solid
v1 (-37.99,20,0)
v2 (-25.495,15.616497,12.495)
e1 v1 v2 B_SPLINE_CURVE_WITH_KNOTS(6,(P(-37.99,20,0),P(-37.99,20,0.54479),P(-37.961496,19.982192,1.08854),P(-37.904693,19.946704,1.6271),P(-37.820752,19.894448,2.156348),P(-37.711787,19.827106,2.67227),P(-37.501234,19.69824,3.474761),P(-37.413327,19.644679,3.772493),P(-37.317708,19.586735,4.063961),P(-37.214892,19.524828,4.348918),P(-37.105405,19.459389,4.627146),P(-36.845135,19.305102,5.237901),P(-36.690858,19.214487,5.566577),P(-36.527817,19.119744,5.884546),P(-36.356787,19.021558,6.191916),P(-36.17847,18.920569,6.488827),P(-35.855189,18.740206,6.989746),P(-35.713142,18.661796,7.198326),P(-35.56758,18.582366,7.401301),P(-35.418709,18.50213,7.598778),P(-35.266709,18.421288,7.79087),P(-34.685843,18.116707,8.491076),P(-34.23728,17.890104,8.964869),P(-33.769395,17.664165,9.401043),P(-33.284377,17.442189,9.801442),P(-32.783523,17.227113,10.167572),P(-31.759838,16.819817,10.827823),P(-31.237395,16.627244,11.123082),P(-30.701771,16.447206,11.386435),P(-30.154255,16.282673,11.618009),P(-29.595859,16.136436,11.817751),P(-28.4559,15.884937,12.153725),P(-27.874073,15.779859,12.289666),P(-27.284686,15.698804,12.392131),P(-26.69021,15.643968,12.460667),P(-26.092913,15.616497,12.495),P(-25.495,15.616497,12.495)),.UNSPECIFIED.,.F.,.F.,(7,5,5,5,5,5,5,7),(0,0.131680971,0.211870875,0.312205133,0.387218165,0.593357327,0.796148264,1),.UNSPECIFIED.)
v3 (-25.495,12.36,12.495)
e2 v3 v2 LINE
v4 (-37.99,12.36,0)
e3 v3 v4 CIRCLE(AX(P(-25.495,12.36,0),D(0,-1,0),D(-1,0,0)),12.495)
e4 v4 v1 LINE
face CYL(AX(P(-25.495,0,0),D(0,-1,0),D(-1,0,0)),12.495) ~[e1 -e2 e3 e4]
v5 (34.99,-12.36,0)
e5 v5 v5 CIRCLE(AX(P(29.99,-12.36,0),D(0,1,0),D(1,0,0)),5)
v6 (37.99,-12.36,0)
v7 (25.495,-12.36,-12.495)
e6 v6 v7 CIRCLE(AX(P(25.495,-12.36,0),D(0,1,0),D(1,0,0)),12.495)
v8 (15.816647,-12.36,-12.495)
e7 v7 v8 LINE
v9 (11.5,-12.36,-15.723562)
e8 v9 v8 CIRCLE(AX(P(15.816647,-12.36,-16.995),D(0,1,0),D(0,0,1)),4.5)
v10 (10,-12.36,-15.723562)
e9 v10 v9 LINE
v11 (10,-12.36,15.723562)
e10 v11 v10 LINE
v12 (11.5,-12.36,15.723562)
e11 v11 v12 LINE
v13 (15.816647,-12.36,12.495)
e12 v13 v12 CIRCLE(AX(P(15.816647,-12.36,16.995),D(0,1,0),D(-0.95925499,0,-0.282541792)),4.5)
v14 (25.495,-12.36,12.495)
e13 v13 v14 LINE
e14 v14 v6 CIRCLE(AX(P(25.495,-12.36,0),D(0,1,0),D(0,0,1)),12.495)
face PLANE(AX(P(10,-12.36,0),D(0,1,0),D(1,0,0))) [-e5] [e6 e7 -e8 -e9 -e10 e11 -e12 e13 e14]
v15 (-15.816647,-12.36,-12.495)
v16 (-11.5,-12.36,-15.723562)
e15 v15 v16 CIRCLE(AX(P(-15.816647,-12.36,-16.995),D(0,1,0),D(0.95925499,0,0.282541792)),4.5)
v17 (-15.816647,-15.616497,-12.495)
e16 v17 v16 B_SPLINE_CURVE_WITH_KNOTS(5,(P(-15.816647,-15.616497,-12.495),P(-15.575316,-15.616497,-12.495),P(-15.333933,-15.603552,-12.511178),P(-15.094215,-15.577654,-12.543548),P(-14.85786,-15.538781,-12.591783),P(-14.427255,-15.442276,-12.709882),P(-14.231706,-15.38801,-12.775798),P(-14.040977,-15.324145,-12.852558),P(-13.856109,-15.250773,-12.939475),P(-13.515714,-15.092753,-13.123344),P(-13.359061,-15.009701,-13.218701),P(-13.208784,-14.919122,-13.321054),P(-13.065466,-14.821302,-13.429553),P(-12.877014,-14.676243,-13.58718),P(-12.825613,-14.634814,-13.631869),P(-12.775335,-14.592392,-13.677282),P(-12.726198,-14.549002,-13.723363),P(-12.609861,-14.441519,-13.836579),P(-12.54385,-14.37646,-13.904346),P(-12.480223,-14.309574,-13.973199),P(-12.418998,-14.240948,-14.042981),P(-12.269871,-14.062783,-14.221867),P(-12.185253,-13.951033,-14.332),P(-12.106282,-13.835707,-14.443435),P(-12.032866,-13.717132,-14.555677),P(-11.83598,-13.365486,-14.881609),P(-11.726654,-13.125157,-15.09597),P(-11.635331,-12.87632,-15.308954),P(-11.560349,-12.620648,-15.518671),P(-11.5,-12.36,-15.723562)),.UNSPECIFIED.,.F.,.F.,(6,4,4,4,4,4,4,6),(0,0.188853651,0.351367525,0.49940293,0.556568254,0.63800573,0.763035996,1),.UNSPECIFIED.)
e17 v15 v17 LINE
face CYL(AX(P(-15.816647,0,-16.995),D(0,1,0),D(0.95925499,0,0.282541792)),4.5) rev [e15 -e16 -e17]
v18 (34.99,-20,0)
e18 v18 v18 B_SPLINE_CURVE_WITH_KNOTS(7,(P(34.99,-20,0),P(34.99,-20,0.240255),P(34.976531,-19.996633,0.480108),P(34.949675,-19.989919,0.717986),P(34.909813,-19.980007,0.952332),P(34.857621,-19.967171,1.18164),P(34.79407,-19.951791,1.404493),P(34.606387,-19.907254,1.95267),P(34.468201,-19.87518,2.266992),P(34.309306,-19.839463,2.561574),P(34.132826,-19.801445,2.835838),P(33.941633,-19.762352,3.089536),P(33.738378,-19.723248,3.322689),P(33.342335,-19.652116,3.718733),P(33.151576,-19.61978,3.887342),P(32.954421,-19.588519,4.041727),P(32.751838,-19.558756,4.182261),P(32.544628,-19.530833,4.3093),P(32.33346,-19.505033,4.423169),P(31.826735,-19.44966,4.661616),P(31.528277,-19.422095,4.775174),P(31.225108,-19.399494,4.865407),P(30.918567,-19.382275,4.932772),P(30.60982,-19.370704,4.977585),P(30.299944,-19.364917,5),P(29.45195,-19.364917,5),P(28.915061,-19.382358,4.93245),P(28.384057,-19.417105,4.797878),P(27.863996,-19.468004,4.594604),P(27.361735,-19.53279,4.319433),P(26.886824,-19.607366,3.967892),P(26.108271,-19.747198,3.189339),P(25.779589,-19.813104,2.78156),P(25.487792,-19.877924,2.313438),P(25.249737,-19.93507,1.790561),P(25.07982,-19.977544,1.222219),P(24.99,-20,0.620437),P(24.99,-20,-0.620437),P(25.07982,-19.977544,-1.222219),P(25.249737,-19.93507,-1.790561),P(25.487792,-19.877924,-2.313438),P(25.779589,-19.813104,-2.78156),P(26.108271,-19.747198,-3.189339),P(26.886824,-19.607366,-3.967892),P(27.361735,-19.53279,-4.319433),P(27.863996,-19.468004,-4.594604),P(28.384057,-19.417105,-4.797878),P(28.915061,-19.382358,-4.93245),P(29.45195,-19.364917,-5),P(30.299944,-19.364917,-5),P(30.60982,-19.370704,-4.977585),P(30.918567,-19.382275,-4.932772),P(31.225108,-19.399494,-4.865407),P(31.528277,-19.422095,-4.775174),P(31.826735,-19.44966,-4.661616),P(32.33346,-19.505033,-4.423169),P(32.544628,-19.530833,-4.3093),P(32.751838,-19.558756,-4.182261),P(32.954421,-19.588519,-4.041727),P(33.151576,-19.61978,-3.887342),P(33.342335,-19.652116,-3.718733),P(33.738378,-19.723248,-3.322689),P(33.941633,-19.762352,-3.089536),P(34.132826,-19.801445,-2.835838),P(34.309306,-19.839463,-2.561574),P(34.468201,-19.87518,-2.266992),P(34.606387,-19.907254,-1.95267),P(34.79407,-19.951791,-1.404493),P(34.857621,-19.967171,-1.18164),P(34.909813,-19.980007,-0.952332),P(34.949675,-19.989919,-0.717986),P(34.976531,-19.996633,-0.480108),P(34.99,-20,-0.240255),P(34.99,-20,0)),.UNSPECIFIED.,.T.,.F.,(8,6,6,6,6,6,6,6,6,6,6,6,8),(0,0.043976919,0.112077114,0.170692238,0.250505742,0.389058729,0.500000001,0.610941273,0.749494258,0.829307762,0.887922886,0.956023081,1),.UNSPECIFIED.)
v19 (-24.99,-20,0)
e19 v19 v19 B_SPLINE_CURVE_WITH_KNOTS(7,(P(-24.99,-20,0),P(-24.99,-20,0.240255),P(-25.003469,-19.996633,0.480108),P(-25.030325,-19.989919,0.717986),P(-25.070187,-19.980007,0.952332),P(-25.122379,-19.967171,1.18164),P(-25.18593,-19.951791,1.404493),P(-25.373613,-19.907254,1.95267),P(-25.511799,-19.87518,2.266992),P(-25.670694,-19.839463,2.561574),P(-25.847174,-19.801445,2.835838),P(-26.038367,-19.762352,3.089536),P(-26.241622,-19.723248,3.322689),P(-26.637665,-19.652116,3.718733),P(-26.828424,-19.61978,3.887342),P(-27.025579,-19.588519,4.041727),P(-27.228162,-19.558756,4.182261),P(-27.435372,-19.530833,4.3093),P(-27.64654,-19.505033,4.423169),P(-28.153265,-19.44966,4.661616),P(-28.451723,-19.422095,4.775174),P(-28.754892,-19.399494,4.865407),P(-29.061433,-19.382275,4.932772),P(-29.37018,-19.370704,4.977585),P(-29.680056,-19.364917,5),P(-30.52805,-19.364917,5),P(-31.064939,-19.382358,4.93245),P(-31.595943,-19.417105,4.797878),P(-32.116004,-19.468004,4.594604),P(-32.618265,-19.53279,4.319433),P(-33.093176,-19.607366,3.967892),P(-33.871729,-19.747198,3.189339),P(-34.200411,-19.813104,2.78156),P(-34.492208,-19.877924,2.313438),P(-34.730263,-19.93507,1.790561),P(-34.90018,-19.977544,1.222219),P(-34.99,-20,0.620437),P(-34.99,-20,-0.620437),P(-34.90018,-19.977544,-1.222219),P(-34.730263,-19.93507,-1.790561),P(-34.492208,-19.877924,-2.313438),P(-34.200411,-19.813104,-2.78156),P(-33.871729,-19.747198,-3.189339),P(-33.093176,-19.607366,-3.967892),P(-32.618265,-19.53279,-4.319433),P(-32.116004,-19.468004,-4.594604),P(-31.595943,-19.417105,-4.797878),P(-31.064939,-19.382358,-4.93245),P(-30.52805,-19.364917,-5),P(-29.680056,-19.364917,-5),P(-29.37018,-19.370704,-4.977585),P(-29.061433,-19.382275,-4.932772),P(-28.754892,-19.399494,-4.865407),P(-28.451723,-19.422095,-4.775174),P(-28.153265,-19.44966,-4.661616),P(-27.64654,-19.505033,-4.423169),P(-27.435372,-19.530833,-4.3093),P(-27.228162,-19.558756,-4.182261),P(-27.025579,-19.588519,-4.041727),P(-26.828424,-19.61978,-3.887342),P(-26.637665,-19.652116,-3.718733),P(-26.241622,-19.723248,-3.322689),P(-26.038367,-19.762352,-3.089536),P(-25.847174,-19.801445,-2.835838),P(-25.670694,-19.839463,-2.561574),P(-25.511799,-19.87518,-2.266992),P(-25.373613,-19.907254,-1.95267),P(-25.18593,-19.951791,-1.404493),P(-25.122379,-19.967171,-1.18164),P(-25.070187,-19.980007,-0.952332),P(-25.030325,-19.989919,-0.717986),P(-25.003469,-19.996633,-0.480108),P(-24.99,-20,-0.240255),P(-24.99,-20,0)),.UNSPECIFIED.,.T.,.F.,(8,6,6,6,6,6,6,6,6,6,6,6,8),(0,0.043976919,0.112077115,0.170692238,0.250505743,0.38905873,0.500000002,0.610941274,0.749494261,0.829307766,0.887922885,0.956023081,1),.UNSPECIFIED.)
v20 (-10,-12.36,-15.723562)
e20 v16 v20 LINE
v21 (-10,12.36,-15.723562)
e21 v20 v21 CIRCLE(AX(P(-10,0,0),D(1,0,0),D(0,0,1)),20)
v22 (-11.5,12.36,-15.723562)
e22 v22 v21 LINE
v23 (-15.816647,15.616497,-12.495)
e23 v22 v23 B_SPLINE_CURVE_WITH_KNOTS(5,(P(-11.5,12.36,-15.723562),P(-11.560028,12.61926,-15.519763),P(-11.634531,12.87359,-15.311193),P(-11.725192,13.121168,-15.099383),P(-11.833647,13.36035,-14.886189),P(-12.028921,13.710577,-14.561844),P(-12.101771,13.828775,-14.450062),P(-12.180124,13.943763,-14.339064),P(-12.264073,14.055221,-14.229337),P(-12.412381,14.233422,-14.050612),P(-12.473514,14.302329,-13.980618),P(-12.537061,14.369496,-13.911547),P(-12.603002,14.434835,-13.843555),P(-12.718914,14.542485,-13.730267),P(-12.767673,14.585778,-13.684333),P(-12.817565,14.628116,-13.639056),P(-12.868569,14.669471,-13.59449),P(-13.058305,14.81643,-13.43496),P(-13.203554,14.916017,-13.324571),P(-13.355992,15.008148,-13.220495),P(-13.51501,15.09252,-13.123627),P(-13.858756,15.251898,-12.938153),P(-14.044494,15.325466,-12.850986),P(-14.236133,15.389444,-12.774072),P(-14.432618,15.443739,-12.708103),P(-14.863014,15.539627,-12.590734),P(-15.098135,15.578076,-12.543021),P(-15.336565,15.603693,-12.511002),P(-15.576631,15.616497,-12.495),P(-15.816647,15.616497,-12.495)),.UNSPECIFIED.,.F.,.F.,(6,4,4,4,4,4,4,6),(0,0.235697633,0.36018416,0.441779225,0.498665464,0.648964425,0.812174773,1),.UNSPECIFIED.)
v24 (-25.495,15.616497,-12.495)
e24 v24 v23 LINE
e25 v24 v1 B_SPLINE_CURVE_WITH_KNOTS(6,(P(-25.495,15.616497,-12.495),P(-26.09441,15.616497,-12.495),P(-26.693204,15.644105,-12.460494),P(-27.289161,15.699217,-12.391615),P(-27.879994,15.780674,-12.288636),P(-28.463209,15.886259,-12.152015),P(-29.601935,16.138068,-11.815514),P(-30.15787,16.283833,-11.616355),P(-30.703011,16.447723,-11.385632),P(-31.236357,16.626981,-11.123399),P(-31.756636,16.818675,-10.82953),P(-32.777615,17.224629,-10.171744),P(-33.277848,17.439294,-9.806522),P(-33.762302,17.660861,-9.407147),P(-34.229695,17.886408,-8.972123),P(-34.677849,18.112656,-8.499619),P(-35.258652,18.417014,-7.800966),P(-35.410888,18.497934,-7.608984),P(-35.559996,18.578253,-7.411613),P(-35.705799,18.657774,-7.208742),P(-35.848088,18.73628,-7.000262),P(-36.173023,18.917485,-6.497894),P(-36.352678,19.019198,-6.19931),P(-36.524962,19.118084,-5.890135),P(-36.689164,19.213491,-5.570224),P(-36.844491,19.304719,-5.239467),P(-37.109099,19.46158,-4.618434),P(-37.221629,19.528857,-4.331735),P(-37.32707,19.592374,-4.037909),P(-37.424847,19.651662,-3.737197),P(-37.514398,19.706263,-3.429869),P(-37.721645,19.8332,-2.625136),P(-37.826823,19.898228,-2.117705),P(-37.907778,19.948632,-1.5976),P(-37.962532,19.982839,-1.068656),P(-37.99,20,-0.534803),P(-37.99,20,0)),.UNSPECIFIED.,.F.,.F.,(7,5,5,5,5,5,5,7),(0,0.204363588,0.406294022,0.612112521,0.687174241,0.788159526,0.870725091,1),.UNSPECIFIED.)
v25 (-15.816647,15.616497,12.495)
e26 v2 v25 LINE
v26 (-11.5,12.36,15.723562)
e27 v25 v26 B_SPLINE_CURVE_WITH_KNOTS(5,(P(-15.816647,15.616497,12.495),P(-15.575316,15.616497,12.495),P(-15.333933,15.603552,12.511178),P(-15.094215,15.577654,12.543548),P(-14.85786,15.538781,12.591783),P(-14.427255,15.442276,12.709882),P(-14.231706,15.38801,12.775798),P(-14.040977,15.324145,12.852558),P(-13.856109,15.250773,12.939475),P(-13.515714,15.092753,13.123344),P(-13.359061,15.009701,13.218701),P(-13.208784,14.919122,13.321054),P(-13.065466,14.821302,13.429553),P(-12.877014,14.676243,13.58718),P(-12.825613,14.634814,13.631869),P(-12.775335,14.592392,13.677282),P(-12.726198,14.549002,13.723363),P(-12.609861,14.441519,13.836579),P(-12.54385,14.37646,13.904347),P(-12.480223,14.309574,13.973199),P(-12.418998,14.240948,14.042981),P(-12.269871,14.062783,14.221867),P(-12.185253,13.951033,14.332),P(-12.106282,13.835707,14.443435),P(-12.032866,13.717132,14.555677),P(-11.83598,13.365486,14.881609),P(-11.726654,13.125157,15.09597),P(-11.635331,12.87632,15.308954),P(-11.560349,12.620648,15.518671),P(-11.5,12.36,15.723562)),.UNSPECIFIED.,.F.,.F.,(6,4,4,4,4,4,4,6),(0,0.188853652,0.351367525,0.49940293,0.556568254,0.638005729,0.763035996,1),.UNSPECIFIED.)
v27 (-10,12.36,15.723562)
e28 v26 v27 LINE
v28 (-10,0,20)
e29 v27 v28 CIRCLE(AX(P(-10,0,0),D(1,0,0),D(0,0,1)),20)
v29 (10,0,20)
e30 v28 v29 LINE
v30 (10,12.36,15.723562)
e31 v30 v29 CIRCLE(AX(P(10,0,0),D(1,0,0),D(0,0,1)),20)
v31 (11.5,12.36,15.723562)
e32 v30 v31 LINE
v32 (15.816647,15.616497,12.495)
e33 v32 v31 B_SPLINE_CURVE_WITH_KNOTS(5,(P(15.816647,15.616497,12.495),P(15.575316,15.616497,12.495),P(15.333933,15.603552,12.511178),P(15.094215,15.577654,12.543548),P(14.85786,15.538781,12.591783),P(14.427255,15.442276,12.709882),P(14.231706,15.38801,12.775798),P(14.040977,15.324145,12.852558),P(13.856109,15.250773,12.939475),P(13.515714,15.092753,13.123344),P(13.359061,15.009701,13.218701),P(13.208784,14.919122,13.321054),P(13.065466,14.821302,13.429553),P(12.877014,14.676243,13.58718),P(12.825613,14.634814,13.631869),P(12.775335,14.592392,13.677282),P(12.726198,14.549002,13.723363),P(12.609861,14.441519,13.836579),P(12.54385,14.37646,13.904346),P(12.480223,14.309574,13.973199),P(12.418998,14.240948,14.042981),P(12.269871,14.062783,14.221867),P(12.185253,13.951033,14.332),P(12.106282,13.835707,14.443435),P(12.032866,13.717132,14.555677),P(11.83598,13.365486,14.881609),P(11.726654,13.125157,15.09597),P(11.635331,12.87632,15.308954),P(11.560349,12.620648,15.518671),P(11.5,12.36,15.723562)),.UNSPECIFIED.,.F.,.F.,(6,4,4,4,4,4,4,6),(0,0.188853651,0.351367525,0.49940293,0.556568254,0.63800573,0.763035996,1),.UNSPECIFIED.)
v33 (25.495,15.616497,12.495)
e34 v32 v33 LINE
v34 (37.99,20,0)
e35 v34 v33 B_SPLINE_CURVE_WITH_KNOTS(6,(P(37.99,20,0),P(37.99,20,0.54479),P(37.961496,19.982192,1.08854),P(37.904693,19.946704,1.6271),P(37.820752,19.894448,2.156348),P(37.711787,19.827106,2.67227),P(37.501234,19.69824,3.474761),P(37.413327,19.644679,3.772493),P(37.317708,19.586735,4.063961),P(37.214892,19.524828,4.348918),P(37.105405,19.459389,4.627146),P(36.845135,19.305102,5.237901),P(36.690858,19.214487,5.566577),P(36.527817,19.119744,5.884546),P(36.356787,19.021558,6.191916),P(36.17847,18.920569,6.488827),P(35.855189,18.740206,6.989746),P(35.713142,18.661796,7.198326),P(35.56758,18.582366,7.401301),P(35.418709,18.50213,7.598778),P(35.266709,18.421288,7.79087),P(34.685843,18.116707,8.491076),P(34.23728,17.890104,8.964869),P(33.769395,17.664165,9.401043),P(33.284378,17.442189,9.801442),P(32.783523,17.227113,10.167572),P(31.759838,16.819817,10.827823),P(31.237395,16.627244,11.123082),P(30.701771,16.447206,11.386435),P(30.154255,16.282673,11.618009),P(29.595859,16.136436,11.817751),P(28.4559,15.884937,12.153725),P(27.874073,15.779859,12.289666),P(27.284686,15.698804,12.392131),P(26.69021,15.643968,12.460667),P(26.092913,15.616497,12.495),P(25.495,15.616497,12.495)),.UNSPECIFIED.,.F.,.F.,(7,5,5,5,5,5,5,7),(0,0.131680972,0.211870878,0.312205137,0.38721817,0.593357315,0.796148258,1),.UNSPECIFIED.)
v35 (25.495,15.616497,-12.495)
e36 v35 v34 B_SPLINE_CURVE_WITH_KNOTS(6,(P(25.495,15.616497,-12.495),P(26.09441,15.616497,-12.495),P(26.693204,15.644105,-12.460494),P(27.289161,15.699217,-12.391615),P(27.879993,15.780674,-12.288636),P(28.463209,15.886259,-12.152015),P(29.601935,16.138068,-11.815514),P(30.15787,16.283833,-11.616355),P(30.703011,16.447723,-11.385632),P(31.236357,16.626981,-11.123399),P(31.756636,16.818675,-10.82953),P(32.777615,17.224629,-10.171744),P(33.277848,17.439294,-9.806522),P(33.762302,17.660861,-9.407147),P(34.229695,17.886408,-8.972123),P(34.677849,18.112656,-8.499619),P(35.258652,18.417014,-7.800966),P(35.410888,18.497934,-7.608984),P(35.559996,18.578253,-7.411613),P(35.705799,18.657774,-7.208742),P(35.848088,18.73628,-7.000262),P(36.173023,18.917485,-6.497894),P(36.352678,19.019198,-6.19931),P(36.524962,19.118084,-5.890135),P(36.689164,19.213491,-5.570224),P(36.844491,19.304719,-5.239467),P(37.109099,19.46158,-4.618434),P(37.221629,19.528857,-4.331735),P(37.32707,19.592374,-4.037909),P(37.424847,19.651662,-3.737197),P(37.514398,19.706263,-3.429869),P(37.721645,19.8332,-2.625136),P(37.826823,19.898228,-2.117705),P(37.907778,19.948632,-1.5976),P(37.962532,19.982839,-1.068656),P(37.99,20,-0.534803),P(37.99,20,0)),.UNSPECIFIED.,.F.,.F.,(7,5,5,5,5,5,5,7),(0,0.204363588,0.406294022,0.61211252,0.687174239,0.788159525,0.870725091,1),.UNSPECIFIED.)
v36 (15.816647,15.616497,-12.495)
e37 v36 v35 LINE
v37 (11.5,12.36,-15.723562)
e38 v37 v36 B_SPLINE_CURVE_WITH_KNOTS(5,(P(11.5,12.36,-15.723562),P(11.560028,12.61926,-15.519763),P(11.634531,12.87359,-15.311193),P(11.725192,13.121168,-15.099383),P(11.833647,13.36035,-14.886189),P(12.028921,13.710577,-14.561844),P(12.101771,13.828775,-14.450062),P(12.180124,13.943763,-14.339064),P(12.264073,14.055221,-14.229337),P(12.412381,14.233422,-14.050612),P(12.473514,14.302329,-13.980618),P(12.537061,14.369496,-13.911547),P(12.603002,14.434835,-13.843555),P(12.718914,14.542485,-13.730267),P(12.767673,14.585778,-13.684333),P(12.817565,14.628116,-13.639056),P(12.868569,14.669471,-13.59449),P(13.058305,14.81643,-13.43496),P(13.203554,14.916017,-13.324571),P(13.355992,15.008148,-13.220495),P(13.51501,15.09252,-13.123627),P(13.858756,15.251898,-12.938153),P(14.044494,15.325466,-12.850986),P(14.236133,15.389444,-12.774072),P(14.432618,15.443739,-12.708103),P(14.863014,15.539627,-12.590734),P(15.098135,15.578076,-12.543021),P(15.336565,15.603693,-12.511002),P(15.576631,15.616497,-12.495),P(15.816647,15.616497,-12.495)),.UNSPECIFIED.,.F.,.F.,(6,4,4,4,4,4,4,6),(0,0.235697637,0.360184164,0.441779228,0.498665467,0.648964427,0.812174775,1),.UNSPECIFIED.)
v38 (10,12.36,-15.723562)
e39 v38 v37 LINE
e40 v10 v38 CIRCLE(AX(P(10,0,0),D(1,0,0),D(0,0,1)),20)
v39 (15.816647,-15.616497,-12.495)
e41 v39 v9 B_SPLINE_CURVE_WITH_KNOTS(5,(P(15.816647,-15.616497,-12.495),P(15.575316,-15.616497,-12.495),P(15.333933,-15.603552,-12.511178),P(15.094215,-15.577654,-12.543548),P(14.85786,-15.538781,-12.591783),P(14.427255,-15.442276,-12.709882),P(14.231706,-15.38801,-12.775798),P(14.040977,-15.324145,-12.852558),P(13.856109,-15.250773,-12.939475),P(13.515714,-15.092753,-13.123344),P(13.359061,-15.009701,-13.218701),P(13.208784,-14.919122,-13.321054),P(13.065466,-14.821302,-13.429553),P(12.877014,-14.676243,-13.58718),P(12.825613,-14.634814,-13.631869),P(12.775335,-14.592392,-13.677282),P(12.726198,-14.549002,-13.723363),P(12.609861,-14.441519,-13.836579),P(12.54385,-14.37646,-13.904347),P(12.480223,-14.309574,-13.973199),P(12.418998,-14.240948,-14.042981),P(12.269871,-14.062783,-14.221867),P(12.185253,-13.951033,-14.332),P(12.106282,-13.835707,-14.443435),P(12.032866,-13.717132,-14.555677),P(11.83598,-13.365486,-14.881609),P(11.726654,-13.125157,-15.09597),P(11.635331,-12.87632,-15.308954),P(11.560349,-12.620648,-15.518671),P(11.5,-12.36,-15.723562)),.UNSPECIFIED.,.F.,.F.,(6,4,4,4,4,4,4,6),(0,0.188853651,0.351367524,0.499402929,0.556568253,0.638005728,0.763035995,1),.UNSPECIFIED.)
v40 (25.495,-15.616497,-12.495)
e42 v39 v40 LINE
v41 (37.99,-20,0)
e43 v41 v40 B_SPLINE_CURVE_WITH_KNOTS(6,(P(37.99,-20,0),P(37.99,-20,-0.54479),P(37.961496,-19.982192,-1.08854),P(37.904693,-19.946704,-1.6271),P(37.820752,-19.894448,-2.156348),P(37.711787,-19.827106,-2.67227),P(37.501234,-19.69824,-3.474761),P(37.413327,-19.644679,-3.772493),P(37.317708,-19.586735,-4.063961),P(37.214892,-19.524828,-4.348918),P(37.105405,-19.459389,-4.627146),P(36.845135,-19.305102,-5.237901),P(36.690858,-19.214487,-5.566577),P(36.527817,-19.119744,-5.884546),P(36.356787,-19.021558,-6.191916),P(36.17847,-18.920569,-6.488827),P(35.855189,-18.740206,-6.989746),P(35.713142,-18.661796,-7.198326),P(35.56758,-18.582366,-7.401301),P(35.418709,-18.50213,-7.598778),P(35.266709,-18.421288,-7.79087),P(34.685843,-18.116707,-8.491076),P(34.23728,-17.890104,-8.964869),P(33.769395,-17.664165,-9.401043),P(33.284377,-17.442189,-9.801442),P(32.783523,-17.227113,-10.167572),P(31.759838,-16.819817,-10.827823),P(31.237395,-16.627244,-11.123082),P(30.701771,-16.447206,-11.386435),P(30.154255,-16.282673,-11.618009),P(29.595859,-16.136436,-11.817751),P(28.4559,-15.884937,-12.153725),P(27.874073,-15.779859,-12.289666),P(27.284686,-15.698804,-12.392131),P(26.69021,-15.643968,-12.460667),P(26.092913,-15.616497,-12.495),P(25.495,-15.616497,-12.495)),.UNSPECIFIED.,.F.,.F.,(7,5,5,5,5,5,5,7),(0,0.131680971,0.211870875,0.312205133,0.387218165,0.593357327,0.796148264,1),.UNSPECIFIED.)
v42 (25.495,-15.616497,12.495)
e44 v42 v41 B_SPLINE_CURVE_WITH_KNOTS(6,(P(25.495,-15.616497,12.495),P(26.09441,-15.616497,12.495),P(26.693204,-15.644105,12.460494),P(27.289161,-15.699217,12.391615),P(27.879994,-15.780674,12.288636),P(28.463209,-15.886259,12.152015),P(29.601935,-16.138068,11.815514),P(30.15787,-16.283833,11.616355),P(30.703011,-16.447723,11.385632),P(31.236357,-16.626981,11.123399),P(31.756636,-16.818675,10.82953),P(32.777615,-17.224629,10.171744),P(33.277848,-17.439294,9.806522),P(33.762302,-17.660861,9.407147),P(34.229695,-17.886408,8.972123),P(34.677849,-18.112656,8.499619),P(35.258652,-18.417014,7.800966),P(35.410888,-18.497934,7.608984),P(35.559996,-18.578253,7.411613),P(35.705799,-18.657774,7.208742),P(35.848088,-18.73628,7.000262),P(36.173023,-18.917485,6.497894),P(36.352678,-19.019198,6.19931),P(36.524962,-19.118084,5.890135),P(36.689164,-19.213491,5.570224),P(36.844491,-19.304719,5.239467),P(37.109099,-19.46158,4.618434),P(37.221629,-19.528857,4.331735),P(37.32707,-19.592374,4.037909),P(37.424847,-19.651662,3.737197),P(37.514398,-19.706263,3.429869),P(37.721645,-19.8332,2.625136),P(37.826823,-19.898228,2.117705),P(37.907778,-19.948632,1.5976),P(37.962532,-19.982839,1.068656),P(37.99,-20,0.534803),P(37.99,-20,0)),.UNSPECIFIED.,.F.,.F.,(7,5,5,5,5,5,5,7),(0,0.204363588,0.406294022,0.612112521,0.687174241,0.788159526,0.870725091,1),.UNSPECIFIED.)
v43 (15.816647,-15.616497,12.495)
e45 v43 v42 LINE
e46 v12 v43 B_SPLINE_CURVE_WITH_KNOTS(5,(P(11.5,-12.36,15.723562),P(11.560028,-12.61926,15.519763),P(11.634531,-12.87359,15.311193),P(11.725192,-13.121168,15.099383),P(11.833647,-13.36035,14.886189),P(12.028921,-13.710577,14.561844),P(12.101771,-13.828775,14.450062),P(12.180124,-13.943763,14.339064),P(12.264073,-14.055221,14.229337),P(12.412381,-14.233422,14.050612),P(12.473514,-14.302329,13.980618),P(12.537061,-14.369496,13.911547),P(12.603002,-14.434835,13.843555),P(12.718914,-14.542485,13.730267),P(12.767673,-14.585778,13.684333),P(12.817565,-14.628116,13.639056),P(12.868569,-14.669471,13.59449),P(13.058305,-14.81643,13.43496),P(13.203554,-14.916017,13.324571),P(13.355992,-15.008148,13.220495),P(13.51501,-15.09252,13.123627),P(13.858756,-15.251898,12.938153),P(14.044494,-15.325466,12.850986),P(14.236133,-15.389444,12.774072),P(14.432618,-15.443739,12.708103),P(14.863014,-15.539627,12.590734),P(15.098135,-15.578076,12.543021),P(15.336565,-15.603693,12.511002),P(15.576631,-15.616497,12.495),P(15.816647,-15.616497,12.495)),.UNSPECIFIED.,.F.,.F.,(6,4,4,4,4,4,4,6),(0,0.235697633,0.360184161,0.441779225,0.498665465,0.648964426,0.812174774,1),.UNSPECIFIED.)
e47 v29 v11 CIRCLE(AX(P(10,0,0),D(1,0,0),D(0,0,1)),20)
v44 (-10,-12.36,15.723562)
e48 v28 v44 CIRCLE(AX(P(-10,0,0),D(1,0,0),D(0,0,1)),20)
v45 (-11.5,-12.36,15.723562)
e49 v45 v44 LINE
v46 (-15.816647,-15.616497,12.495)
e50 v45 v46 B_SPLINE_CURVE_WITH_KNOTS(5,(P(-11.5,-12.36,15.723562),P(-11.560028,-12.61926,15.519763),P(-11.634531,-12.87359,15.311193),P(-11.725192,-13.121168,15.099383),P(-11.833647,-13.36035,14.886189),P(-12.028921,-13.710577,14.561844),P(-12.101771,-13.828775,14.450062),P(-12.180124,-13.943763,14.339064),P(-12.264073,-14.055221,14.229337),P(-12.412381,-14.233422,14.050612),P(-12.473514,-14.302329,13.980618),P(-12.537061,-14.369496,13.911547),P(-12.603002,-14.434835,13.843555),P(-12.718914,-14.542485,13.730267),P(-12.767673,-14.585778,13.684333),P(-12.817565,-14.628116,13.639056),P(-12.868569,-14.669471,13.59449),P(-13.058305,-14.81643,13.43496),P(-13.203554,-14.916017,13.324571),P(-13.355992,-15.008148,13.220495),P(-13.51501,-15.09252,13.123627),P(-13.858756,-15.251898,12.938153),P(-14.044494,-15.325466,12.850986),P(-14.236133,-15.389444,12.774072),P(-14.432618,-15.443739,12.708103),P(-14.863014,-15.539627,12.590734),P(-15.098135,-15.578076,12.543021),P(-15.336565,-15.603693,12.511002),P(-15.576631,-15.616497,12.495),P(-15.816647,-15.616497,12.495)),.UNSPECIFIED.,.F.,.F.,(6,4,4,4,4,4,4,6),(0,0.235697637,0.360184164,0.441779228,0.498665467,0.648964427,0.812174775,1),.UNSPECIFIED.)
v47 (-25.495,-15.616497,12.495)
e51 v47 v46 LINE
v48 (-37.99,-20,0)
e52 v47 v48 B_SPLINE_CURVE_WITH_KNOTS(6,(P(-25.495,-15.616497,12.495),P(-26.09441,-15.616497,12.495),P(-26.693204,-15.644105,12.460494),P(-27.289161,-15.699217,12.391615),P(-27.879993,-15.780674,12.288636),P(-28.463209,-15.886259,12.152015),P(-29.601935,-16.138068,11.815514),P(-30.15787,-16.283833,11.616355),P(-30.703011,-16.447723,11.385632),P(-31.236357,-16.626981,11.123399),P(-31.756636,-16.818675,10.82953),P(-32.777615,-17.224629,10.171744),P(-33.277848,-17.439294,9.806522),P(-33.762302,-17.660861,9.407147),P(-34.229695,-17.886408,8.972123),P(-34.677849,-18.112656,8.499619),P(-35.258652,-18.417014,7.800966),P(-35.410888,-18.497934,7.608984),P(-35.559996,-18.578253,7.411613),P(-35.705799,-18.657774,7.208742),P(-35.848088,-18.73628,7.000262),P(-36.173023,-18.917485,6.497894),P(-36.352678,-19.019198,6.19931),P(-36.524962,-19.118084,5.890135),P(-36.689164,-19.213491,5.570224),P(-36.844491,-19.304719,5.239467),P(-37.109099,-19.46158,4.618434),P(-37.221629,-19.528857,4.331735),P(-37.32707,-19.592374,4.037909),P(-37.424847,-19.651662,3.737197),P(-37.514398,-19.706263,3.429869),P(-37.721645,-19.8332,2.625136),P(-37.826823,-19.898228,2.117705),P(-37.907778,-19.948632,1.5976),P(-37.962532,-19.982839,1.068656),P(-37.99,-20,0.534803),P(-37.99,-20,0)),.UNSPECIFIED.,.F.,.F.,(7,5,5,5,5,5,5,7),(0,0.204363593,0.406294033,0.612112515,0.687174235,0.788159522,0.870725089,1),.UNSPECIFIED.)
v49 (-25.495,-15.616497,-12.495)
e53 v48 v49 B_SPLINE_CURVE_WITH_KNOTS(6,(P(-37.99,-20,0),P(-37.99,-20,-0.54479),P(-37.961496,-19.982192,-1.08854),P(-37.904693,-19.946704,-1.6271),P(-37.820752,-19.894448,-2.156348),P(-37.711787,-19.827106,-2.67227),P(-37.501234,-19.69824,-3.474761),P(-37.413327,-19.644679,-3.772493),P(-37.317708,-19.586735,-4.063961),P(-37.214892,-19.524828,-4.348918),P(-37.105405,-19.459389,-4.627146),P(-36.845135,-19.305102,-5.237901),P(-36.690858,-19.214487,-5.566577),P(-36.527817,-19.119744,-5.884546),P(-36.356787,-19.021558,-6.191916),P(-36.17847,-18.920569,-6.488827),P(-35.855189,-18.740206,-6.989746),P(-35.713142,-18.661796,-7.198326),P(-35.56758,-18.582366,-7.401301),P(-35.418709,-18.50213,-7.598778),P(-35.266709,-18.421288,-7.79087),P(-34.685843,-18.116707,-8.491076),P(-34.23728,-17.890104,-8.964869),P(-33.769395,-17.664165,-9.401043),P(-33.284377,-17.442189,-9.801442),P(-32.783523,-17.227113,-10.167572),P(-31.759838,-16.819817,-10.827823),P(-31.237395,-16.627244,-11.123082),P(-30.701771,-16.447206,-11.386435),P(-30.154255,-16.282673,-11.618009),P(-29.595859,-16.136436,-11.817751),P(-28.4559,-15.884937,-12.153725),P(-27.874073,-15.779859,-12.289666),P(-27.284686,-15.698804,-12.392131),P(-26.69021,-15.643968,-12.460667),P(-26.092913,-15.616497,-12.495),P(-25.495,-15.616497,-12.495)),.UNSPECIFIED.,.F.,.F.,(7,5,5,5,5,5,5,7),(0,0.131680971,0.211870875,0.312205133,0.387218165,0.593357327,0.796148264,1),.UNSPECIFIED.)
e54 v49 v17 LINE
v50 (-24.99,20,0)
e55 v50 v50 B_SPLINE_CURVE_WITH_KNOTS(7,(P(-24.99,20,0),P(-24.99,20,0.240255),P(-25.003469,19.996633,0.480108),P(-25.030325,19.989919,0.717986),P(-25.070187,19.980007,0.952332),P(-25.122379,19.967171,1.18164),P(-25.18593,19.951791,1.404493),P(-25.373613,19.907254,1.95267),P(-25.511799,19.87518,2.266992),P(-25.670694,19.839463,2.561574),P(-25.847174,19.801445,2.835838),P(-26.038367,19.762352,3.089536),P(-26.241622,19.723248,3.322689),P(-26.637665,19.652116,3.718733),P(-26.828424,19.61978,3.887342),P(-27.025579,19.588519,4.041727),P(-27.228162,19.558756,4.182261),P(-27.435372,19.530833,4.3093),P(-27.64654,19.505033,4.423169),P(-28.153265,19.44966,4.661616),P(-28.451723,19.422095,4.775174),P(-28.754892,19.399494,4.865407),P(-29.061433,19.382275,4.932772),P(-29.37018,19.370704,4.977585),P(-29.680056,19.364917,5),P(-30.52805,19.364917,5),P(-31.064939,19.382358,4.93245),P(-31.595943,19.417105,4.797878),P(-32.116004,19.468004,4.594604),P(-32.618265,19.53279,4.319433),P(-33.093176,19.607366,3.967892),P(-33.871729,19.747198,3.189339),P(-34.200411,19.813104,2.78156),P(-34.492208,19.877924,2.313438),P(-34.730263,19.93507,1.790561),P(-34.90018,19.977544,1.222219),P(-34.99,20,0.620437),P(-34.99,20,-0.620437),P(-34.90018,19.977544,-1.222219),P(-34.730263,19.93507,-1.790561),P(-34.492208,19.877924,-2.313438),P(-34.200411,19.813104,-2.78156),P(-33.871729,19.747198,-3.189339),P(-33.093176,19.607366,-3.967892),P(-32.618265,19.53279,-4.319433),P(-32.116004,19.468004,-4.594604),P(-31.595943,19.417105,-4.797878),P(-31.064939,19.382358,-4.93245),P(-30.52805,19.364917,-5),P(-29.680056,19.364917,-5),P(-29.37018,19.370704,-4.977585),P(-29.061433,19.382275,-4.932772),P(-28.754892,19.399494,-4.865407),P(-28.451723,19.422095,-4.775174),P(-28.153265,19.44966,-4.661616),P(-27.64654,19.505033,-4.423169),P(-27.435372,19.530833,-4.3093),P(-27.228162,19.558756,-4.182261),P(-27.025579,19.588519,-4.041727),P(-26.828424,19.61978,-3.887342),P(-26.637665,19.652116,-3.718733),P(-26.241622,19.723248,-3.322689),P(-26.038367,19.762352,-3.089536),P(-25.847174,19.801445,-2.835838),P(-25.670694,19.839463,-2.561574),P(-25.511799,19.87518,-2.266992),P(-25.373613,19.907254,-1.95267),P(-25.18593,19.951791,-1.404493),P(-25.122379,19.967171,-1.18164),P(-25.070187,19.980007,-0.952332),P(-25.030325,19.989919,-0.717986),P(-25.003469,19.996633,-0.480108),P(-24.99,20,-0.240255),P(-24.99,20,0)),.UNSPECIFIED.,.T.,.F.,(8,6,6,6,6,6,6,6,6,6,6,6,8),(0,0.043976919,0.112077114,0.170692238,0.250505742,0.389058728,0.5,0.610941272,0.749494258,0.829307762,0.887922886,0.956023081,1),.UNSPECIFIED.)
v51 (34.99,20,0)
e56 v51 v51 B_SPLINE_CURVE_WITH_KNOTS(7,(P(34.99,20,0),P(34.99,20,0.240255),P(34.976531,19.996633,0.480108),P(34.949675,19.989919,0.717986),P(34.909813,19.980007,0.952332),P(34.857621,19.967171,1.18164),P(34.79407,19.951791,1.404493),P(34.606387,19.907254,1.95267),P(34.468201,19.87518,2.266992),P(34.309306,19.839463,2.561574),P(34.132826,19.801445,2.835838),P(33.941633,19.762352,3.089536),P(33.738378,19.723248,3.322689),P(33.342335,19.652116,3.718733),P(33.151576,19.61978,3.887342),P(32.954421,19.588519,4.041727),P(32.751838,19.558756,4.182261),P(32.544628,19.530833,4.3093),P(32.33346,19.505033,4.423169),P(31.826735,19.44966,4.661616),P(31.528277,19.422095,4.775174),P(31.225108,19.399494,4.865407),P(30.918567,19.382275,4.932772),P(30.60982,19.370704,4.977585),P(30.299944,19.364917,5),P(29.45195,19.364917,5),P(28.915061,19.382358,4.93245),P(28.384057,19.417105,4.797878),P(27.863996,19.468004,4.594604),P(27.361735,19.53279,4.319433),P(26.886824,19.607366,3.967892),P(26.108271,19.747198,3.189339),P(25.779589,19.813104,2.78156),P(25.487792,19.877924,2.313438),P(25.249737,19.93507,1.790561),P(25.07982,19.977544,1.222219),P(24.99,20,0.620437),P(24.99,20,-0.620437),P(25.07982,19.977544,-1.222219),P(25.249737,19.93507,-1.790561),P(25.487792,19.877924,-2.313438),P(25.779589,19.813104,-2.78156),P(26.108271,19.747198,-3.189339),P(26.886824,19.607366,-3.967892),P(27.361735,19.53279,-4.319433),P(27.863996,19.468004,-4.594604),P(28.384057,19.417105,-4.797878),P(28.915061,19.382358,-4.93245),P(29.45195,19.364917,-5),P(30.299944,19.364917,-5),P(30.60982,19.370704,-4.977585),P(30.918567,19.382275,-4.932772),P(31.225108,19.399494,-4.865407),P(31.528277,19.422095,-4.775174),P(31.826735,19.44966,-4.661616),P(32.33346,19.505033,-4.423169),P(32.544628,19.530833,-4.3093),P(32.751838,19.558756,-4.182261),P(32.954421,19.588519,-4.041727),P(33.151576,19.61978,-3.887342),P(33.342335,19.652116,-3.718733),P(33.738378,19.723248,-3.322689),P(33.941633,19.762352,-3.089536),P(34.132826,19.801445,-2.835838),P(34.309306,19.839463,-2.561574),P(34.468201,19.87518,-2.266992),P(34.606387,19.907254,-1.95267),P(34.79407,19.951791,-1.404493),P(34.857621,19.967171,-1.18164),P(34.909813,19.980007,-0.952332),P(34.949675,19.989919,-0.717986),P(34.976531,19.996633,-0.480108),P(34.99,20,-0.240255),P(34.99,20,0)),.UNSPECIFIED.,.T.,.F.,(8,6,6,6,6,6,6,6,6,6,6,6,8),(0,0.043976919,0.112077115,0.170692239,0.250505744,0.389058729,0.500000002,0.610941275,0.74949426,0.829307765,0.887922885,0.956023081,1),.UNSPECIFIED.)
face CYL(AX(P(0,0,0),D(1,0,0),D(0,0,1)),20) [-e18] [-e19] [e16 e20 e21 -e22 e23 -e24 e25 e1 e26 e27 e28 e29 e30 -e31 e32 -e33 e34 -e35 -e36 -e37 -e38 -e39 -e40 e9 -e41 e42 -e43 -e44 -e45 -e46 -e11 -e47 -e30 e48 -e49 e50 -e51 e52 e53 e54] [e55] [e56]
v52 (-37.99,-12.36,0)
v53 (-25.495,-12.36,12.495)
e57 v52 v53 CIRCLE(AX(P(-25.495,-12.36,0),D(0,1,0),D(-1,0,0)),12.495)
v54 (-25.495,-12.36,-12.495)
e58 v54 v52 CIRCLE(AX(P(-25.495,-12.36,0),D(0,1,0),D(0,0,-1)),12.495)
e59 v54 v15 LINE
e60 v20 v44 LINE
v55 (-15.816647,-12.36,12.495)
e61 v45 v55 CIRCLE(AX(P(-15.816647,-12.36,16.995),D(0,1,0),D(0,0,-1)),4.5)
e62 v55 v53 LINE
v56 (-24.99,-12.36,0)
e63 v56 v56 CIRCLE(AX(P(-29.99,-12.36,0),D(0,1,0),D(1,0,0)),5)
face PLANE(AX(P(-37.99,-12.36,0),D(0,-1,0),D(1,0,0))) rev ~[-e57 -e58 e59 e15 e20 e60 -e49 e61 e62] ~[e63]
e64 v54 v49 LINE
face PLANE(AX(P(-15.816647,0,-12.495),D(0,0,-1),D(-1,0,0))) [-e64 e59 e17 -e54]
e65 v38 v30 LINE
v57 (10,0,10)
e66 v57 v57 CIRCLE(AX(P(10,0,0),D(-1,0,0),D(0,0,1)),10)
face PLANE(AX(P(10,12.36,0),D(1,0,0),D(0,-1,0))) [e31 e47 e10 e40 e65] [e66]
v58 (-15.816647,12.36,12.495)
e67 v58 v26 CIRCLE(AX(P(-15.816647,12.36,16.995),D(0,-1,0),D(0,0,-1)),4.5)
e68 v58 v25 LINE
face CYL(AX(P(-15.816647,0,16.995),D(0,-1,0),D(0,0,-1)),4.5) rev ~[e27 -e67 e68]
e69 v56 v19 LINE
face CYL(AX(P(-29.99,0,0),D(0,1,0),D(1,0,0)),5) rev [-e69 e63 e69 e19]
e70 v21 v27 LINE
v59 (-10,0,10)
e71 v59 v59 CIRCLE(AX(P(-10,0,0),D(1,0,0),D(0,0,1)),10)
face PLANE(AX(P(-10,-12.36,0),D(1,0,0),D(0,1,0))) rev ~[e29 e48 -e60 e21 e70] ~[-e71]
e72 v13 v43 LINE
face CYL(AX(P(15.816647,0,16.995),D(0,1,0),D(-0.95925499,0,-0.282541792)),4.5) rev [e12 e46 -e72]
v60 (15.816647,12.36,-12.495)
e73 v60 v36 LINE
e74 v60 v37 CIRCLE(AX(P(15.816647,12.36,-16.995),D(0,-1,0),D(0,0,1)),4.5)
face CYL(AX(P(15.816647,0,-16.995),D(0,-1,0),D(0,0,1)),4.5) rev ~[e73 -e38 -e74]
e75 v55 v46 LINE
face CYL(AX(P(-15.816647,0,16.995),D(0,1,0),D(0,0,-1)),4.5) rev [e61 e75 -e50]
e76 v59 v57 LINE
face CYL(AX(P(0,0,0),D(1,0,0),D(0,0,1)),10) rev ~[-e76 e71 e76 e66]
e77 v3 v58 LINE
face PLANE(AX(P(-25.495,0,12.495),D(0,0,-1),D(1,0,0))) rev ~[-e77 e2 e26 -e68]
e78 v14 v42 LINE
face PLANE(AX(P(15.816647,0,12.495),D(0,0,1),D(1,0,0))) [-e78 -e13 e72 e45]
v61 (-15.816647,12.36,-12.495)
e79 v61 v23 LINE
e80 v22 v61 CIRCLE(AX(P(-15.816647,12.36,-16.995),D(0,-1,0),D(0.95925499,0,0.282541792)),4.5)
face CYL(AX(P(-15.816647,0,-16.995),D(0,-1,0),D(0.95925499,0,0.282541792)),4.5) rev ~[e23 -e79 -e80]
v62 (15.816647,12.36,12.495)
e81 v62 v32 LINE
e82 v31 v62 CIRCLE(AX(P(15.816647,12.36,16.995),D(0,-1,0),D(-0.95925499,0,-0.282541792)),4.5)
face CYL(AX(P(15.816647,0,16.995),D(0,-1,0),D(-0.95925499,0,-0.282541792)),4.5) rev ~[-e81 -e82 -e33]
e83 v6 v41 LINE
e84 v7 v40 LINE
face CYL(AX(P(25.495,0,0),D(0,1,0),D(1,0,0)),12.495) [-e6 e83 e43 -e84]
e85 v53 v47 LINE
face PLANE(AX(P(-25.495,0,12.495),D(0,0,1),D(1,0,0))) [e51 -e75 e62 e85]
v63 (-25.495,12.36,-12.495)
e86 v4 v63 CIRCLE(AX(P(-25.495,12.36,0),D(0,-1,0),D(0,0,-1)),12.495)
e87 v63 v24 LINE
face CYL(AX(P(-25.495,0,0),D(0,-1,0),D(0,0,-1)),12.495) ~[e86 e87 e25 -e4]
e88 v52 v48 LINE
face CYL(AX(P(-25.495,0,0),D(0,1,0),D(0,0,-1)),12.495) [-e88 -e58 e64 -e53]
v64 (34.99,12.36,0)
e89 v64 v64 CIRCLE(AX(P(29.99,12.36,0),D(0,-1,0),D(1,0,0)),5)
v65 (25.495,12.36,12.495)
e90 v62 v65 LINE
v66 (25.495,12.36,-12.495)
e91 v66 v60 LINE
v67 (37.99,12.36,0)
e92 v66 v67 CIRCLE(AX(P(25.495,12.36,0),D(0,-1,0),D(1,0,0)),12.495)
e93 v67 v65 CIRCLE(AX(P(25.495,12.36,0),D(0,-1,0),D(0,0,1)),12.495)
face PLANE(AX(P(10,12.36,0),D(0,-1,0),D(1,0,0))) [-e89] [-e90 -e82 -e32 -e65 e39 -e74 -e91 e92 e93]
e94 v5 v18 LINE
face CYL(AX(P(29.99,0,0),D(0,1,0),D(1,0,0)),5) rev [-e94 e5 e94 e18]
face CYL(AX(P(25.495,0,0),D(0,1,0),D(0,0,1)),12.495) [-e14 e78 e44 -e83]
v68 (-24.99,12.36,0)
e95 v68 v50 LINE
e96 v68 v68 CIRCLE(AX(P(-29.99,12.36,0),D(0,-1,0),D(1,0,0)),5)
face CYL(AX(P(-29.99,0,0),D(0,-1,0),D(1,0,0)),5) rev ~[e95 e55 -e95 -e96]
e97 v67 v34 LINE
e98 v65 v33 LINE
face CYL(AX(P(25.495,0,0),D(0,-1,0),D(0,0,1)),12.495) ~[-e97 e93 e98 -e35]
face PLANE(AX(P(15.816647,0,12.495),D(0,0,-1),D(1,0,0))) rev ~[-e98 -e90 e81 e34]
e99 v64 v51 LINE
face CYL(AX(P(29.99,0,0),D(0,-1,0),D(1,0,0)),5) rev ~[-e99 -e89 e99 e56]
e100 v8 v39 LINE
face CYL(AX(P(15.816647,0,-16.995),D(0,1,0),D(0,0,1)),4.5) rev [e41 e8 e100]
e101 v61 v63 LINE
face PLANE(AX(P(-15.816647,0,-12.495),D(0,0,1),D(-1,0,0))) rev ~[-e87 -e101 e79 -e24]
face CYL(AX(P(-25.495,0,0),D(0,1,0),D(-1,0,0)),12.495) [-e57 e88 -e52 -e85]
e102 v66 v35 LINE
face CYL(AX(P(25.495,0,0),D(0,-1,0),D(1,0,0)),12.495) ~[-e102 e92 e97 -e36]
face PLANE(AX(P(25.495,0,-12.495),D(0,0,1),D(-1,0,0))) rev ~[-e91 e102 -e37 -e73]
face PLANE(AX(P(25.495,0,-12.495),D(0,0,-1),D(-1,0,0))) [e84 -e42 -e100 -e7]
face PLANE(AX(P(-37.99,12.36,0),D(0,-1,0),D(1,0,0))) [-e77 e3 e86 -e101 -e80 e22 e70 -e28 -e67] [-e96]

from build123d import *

# Parameters (mm, degrees)
F0_W          = 75.98
F0_H          = 10
F2_W          = 27.99
F2_H          = 12.36
F3_DEPTH      = 20.001
F3_DEPTH_BACK = 20.001
F4_R          = 5
F5_DEPTH      = 20.001
F5_DEPTH_BACK = 20.001


with BuildPart() as f1:
    # F0 (on Front) → F1 (revolve)
    with BuildSketch(Plane.XZ):
        with Locations((0, 15)):
            Rectangle(F0_W, F0_H)
    revolve(axis=Axis((-1.2122914195, 0, 0), (1, 0, 0)))

    # F2 (on Top) → F3 (cut, two sides)
    with BuildSketch(Plane.XY) as f3_sk:
        with Locations((23.995, 6.18)):
            Rectangle(F2_W, F2_H)
        with Locations((23.995, -6.18)):
            Rectangle(F2_W, F2_H)
        with Locations((-23.995, 6.18)):
            Rectangle(F2_W, F2_H)
        with Locations((-23.995, -6.18)):
            Rectangle(F2_W, F2_H)
    extrude(amount=-F3_DEPTH, mode=Mode.SUBTRACT)
    extrude(f3_sk.sketch, amount=F3_DEPTH_BACK, mode=Mode.SUBTRACT)

    # F4 (on Front) → F5 (cut, two sides)
    with BuildSketch(Plane.XZ) as f5_sk:
        with BuildLine():
            Line((-37.99, 15.7235619374), (-37.99, 0))
            ThreePointArc((-37.99, 0), (-34.3302992309, 8.8352992309), (-25.495, 12.495))
            Line((-25.495, 12.495), (-15.8166474553, 12.495))
            ThreePointArc((-15.8166474553, 12.495), (-13.1214175283, 13.3914273782), (-11.5, 15.7235619374))
            Line((-11.5, 15.7235619374), (-37.99, 15.7235619374))
        make_face()
        with BuildLine():
            ThreePointArc((-25.495, -12.495), (-34.3302992309, -8.8352992309), (-37.99, 0))
            Line((-37.99, 0), (-37.99, -15.8999282867))
            Line((-37.99, -15.8999282867), (-11.5, -15.7235619374))
            ThreePointArc((-11.5, -15.7235619374), (-13.1214175283, -13.3914273782), (-15.8166474553, -12.495))
            Line((-15.8166474553, -12.495), (-25.495, -12.495))
        make_face()
        with Locations((-29.99, 0)):
            Circle(F4_R)
        with Locations((29.99, 0)):
            Circle(F4_R)
        with BuildLine():
            Line((37.99, -15.8999282867), (37.99, 0))
            ThreePointArc((37.99, 0), (34.3302992309, -8.8352992309), (25.495, -12.495))
            Line((25.495, -12.495), (15.8166474553, -12.495))
            ThreePointArc((15.8166474553, -12.495), (13.1214175283, -13.3914273782), (11.5, -15.7235619374))
            Line((11.5, -15.7235619374), (37.99, -15.8999282867))
        make_face()
        with BuildLine():
            Line((37.99, 15.7235619374), (11.5, 15.7235619374))
            ThreePointArc((11.5, 15.7235619374), (13.1214175283, 13.3914273782), (15.8166474553, 12.495))
            Line((15.8166474553, 12.495), (25.495, 12.495))
            ThreePointArc((25.495, 12.495), (34.3302992309, 8.8352992309), (37.99, 0))
            Line((37.99, 0), (37.99, 15.7235619374))
        make_face()
    extrude(amount=-F5_DEPTH, mode=Mode.SUBTRACT)
    extrude(f5_sk.sketch, amount=F5_DEPTH_BACK, mode=Mode.SUBTRACT)


solid = f1.part
